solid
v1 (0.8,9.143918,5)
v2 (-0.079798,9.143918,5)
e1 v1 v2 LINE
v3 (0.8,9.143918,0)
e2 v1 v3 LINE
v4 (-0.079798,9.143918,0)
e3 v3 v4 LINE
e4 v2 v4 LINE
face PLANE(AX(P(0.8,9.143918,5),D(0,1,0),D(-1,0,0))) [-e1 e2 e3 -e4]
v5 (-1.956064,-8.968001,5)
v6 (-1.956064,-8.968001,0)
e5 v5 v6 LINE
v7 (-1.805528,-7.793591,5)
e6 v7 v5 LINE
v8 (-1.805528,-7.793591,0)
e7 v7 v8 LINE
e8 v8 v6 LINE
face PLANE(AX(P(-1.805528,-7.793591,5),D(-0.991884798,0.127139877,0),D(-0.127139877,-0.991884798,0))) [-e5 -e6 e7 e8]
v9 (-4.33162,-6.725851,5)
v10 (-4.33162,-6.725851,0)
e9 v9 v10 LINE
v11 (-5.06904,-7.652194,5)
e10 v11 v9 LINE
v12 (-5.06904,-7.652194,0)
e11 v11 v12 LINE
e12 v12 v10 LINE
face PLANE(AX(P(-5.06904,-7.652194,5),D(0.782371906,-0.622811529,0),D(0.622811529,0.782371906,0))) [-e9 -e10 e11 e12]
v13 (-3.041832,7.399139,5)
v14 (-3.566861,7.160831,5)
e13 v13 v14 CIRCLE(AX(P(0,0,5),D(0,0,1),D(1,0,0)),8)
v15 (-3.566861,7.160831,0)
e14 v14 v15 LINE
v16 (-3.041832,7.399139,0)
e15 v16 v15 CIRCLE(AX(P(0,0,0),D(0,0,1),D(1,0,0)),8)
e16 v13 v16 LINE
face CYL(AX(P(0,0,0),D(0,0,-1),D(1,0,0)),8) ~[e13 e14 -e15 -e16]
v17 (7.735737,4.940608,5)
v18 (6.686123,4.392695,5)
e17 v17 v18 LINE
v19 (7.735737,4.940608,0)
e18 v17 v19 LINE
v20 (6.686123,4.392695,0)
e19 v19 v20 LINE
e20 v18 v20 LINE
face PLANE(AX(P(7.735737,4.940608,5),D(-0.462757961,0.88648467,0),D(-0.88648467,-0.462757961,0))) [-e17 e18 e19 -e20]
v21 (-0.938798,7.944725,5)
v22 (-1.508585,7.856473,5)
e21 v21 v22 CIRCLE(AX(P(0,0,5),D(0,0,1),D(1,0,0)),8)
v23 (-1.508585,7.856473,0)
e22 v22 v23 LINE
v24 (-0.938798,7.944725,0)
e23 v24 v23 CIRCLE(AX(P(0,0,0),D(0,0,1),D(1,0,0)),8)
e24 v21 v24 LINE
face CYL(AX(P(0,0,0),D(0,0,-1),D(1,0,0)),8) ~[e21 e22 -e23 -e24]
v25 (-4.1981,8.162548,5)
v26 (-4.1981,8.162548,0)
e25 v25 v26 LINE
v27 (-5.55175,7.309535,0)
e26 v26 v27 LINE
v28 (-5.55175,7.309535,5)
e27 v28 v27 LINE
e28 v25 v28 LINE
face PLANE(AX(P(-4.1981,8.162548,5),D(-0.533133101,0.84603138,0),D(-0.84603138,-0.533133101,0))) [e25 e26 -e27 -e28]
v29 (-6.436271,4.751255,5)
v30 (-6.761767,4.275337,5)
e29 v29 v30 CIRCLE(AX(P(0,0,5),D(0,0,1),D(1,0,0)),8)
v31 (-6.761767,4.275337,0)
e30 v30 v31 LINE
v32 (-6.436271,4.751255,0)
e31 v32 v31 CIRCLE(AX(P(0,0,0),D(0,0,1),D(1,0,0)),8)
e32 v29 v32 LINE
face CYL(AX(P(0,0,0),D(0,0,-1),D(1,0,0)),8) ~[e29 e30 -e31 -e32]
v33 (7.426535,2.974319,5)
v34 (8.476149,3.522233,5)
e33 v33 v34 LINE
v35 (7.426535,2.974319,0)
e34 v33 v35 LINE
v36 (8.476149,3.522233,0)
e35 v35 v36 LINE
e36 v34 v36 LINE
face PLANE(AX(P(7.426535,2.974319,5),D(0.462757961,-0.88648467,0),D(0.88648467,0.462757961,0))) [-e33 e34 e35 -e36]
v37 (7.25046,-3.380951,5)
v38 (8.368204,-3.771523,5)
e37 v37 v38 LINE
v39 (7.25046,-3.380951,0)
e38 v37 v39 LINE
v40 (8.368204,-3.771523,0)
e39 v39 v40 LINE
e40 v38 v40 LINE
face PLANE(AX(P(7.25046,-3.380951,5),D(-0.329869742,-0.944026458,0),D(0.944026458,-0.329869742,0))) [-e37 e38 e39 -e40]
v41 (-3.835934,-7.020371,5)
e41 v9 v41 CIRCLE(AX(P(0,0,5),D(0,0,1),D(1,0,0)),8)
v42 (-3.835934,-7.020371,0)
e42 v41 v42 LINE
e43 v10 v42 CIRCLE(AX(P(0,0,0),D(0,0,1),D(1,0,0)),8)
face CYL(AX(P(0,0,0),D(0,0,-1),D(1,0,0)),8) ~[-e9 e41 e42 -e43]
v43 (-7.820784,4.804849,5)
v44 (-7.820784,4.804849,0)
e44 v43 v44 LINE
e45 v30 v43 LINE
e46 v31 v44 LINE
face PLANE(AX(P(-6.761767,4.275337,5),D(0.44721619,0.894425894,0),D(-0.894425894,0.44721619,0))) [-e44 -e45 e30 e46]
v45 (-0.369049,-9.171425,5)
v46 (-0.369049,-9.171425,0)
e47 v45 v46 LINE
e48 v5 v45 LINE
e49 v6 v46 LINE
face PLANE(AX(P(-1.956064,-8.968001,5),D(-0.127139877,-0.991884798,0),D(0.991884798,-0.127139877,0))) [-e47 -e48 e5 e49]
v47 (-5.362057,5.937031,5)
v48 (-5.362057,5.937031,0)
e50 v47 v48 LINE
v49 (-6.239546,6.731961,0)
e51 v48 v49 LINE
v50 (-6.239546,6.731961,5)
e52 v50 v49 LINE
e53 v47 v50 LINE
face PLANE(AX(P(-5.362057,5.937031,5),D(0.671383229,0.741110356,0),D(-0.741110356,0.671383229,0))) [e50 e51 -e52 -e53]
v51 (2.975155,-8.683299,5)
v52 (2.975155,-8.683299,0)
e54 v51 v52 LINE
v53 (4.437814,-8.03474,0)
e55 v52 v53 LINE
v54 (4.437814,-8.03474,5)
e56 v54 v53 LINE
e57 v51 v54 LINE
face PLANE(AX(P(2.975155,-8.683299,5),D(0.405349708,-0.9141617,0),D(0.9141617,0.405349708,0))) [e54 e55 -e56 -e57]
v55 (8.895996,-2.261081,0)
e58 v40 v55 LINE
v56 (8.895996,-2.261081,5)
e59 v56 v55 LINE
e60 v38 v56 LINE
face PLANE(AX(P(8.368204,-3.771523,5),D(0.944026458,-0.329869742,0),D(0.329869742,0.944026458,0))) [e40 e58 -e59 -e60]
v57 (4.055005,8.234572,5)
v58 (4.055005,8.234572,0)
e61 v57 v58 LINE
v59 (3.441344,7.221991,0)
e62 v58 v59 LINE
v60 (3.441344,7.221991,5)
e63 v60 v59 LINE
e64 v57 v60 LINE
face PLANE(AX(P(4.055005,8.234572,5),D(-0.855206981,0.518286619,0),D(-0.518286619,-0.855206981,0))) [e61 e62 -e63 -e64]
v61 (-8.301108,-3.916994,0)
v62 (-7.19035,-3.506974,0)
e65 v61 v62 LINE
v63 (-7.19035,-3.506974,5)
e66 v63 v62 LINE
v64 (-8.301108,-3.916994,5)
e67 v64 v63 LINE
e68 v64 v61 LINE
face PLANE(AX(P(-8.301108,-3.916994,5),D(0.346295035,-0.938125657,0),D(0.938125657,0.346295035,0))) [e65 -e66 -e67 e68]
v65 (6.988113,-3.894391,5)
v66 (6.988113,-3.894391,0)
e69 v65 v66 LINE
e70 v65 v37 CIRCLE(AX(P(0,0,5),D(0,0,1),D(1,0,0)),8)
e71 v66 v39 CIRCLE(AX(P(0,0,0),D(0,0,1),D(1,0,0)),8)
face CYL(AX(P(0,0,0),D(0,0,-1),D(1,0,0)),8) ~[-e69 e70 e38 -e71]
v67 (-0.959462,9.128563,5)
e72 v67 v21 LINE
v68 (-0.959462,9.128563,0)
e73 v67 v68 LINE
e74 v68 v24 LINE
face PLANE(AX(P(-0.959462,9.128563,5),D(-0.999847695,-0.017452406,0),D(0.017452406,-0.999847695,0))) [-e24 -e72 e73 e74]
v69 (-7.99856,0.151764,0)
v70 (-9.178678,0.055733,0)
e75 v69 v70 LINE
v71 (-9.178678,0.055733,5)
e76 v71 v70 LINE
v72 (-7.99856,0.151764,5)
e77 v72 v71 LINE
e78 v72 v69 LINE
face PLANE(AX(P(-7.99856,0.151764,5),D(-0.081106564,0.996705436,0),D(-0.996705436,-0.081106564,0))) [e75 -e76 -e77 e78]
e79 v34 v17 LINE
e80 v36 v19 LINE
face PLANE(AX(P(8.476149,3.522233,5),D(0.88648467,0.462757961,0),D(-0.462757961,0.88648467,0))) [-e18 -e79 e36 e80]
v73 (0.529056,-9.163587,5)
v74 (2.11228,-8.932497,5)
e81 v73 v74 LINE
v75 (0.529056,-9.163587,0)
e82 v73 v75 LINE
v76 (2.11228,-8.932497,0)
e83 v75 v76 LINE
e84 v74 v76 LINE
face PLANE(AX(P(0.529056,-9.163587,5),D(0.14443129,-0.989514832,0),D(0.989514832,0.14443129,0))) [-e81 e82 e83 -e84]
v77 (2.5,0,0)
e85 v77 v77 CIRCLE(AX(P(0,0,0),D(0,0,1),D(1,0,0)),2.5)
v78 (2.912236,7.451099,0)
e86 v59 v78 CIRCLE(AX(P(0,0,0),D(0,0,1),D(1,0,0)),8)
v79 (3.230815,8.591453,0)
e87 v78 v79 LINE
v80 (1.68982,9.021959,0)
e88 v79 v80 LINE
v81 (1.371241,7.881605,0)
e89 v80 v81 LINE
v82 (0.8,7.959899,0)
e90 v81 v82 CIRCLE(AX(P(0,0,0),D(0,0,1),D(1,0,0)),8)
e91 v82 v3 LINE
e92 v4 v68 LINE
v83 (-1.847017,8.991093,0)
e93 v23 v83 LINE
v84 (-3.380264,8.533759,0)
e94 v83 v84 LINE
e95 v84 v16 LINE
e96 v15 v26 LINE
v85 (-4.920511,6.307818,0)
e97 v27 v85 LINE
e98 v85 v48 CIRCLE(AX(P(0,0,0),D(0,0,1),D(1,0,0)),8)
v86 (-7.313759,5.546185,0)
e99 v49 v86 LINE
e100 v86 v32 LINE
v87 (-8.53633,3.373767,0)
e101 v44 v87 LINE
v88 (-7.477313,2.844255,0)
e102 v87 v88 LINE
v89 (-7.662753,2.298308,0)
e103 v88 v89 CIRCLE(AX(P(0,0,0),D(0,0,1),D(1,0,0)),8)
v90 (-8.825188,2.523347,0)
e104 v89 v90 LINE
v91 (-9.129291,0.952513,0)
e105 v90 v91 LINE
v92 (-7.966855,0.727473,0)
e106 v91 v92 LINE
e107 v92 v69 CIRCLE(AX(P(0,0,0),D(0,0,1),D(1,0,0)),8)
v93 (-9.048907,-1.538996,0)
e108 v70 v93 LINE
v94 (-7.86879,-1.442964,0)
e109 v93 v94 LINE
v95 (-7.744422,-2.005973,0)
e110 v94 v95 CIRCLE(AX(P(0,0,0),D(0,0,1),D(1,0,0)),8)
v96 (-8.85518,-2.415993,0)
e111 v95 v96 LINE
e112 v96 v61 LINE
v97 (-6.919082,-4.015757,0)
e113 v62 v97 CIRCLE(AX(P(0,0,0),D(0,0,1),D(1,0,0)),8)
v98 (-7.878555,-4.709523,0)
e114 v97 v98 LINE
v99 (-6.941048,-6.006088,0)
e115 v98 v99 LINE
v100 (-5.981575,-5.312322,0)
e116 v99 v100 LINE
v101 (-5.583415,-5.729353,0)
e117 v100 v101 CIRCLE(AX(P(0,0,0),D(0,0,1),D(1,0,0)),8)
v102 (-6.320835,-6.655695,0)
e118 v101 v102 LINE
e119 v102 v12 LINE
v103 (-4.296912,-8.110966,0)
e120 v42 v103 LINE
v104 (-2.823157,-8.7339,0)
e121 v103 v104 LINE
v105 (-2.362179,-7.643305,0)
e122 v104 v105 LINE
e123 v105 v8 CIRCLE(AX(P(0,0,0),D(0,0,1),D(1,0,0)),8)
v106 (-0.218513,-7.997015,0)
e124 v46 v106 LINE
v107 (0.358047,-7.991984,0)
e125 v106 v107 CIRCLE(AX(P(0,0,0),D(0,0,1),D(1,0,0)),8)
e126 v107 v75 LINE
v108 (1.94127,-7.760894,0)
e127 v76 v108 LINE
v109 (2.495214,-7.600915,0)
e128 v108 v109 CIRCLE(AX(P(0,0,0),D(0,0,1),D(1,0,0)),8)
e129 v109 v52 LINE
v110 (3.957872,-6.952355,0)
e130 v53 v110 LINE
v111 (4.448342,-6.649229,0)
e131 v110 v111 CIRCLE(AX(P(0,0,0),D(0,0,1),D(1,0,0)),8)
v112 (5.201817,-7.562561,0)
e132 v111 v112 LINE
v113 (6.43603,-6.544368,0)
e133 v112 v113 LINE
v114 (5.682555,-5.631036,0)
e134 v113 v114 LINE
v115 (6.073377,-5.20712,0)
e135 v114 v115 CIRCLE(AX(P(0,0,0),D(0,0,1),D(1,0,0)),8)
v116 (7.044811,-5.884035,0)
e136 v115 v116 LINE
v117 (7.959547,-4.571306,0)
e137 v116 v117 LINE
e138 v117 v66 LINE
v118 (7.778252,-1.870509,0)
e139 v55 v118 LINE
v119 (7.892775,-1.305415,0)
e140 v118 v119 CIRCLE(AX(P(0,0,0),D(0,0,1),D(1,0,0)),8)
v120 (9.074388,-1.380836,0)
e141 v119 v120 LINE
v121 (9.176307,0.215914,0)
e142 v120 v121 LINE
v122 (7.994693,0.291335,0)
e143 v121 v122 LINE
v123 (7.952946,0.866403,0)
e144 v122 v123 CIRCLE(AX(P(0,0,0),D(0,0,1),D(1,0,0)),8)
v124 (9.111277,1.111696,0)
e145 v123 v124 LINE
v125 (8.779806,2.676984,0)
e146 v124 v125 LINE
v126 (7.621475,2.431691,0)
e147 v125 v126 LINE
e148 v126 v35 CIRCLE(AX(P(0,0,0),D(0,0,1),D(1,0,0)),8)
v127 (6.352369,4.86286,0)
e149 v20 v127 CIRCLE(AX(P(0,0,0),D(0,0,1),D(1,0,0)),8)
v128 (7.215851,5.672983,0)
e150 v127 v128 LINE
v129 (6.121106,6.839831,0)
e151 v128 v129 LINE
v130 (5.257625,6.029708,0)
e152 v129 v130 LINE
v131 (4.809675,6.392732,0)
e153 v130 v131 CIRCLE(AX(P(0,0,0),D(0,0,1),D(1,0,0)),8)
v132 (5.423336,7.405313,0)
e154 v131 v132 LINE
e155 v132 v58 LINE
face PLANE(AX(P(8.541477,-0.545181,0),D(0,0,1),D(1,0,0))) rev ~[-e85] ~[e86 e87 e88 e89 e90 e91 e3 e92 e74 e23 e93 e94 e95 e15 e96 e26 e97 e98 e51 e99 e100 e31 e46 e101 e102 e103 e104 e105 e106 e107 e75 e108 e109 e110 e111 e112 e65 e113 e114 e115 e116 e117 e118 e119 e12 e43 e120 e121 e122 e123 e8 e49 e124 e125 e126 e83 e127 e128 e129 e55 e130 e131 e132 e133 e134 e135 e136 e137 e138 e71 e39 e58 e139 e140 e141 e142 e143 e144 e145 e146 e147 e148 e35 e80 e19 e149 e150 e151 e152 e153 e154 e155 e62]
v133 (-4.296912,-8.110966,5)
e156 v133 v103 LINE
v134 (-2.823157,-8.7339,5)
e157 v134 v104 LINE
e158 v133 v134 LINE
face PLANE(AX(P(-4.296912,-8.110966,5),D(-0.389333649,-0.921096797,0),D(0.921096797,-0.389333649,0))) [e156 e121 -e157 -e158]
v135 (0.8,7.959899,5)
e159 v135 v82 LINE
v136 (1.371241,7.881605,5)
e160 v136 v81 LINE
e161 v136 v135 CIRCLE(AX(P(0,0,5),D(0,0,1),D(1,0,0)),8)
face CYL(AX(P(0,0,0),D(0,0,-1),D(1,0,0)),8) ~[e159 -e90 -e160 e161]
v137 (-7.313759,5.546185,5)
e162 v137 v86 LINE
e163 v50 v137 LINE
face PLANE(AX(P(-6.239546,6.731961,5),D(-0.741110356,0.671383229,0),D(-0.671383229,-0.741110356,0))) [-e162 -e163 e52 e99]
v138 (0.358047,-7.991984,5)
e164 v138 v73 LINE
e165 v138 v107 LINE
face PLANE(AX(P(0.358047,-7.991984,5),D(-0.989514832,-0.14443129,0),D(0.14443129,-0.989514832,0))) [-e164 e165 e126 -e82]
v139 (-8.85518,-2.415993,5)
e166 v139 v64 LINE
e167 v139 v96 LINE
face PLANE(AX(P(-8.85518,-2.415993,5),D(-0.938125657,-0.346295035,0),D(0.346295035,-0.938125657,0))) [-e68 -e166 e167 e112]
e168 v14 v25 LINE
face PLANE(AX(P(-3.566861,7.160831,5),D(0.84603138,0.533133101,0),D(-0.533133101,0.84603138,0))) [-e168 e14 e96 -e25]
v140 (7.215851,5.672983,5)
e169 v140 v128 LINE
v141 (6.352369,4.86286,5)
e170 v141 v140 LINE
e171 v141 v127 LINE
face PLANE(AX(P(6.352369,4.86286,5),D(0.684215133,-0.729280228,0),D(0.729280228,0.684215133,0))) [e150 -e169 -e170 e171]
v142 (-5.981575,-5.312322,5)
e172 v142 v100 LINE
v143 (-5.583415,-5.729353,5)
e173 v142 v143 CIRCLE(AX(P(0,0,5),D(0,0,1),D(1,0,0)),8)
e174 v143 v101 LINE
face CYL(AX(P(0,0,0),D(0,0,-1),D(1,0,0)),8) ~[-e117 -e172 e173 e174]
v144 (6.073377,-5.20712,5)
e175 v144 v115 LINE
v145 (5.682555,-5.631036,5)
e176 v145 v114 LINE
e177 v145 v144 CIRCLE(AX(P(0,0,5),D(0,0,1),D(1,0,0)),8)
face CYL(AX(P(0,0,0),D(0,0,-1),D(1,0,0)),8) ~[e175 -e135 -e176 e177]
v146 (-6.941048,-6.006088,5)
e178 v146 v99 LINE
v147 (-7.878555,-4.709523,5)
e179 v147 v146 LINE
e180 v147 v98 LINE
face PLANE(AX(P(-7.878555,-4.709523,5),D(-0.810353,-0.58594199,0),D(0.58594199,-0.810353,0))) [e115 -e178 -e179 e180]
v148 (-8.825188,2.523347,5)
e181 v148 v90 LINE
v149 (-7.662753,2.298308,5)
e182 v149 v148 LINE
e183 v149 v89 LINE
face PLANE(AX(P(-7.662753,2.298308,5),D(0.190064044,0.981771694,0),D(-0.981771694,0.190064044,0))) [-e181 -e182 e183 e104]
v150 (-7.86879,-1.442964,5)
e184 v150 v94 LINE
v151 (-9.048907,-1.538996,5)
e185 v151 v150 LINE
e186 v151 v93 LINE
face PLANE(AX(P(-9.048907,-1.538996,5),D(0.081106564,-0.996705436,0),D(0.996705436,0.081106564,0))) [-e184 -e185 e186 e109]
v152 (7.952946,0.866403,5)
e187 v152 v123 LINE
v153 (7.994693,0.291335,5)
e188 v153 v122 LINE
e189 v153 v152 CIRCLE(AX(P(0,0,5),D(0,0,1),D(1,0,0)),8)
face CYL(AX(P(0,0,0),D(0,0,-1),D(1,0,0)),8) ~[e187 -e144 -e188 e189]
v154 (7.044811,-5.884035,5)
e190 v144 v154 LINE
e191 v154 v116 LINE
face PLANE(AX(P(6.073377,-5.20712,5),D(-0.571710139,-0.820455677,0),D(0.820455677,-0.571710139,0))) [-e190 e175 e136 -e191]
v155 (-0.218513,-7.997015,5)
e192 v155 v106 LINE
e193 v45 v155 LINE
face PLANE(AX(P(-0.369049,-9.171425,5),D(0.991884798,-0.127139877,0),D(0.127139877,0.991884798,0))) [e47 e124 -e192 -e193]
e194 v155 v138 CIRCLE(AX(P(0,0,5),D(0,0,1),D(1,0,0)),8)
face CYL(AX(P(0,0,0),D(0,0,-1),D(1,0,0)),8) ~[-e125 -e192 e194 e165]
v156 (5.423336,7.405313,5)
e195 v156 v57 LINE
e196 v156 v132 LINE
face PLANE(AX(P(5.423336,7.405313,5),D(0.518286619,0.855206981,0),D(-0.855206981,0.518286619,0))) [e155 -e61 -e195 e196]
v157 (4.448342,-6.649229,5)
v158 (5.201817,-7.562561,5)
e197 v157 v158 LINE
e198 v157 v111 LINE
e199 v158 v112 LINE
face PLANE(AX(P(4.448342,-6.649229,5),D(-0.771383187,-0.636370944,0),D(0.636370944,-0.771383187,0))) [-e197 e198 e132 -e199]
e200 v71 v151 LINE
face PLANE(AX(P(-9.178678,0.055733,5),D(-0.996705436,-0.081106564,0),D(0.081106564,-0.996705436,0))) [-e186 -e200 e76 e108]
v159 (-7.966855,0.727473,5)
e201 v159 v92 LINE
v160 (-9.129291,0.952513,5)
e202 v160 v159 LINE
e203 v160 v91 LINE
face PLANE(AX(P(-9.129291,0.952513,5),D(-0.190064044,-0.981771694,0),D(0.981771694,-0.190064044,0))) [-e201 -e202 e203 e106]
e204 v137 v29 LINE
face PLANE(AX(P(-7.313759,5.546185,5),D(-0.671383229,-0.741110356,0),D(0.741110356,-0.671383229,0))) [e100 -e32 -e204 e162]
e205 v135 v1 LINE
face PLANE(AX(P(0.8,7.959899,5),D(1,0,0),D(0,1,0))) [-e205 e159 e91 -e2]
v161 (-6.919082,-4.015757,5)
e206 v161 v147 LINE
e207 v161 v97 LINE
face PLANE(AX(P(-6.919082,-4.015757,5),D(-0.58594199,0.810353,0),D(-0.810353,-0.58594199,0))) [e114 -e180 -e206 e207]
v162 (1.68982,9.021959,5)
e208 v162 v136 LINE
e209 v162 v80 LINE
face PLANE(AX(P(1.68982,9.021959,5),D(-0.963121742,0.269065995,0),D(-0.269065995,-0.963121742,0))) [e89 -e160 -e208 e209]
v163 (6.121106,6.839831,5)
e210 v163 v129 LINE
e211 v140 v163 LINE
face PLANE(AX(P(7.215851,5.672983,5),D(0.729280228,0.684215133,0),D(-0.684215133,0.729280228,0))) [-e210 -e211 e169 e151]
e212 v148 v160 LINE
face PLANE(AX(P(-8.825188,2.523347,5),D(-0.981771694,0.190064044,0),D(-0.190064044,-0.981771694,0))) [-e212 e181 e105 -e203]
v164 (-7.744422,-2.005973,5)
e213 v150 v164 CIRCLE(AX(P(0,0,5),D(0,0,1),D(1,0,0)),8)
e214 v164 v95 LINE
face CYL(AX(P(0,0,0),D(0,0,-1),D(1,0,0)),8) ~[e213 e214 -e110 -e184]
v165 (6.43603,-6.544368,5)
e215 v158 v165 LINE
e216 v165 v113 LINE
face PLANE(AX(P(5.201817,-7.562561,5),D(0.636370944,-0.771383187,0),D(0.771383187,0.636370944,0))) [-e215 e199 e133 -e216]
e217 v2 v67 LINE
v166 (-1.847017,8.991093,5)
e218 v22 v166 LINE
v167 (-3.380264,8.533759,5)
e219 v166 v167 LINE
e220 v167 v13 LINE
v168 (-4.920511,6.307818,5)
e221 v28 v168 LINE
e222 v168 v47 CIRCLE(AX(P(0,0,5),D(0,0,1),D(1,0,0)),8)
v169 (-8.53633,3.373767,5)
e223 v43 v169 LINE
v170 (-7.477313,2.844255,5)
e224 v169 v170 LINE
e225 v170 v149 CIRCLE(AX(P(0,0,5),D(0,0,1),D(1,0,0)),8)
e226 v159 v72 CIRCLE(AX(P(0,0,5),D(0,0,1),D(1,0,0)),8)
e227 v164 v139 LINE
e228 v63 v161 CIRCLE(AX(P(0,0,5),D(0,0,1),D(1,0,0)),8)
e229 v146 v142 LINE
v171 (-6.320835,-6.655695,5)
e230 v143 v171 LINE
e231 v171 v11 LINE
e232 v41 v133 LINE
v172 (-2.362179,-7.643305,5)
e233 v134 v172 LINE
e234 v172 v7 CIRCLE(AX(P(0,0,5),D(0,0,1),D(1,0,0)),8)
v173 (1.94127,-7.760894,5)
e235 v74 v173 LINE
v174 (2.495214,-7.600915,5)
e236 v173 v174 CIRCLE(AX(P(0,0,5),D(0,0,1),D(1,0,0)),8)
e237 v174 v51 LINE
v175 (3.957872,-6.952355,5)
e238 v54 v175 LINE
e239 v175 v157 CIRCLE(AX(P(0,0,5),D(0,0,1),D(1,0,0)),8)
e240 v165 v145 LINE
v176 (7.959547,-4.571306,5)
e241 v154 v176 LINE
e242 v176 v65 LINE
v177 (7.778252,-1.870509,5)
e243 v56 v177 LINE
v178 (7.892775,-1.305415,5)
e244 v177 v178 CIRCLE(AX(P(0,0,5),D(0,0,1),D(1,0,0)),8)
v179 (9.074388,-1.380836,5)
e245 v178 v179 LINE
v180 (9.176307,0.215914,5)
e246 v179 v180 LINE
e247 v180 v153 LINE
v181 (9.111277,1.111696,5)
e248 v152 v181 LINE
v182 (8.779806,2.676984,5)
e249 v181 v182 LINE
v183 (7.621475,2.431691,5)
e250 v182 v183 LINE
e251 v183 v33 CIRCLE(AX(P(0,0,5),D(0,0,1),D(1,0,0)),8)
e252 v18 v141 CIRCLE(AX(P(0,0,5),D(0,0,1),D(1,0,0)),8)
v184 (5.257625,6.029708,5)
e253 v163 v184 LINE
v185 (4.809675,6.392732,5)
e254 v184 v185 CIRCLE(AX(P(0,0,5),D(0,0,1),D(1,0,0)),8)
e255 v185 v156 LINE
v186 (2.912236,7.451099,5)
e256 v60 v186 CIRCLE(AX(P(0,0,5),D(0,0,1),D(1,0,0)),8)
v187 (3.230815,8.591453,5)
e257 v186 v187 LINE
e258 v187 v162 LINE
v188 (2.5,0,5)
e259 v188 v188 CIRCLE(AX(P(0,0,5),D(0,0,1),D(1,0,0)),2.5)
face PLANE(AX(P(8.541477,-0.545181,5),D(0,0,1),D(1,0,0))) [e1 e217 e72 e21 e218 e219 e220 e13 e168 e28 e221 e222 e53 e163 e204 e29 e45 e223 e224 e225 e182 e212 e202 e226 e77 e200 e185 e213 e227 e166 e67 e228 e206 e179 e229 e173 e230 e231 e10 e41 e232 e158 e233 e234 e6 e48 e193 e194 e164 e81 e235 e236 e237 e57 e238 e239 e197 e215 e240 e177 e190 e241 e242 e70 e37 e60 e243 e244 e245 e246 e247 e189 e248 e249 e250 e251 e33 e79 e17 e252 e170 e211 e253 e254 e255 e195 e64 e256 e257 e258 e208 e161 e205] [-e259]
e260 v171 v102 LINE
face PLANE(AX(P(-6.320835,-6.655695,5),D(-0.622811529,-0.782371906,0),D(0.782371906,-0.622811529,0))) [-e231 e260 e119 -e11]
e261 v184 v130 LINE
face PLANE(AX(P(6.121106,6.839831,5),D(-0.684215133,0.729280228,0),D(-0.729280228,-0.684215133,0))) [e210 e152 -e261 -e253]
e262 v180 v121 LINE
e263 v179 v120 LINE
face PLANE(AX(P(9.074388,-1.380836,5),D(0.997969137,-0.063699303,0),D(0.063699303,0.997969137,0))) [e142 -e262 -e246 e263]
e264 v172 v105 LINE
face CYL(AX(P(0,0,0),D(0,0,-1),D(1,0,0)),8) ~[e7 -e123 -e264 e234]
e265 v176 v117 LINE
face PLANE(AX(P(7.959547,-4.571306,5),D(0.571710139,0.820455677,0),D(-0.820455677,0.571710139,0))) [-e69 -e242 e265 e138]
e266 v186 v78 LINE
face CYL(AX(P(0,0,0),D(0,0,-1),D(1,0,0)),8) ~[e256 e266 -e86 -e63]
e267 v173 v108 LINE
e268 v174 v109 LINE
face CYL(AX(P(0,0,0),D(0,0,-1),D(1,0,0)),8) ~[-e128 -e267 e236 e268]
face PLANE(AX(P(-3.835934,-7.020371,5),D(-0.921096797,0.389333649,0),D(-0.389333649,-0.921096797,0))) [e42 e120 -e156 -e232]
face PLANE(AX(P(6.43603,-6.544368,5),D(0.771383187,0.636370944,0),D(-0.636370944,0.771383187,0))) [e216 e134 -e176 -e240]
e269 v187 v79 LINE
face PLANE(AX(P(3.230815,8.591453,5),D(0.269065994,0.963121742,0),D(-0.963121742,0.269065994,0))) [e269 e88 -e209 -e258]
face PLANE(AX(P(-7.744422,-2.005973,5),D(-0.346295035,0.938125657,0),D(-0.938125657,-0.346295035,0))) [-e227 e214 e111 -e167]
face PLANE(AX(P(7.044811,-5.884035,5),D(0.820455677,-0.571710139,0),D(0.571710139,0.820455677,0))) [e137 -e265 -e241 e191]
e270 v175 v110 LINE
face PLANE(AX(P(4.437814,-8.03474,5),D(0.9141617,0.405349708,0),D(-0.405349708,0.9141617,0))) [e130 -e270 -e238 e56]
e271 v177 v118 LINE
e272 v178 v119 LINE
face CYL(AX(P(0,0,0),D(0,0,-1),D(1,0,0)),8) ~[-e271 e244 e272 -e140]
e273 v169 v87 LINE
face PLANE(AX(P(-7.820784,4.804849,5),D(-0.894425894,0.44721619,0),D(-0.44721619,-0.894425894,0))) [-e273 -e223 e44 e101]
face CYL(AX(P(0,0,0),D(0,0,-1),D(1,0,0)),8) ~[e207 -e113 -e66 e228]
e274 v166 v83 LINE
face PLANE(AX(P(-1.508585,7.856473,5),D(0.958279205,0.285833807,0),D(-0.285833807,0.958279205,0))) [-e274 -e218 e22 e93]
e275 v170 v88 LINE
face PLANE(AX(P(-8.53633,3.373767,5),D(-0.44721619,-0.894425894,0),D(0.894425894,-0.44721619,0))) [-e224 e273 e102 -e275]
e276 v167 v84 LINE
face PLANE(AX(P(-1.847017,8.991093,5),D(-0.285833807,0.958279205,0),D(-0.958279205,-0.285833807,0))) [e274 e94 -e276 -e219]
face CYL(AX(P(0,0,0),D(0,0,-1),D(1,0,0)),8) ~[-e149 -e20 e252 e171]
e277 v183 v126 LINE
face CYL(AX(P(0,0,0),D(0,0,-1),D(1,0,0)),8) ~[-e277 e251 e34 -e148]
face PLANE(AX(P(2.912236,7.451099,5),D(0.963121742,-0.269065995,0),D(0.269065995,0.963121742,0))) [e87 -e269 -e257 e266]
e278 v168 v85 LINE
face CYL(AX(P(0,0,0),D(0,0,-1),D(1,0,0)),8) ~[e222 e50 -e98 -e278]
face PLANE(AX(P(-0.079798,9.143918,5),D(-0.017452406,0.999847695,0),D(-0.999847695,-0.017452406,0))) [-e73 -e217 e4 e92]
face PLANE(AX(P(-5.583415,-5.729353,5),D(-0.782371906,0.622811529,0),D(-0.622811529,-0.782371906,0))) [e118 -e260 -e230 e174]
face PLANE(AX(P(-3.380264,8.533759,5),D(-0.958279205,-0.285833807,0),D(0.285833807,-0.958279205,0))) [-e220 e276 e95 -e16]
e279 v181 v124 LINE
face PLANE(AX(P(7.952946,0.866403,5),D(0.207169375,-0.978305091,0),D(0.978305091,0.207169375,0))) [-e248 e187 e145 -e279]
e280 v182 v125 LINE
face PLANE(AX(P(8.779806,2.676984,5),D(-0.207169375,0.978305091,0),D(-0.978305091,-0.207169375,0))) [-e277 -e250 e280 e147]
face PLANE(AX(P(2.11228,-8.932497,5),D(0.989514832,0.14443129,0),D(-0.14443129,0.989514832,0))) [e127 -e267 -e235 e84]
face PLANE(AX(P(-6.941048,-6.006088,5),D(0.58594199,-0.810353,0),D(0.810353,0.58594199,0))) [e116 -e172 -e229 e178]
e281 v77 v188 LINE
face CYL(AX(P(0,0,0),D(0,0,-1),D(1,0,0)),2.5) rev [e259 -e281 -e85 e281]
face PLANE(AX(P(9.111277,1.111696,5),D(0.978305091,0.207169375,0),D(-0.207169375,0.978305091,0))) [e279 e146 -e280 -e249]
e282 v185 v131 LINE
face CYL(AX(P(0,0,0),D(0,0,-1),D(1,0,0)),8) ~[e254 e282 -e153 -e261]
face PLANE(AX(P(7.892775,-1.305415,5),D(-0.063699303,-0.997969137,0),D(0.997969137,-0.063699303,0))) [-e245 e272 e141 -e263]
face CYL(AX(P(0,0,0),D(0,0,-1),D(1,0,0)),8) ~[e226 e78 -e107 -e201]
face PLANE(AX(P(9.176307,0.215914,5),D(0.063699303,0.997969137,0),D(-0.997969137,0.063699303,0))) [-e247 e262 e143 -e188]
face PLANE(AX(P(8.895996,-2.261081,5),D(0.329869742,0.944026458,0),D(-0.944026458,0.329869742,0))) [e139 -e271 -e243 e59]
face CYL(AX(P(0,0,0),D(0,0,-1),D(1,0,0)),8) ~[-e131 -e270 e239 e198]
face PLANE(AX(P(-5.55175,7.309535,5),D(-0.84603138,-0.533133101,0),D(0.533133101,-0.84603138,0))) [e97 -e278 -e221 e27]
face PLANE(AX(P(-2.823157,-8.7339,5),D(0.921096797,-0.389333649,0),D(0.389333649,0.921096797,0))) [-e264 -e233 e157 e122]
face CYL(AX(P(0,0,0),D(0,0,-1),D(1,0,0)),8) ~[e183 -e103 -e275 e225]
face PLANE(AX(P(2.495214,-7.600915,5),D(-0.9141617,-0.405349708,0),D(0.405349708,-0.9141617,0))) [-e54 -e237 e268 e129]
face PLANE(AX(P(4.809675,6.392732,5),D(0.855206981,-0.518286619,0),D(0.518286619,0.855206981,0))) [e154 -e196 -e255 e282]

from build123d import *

# Parameters (mm, degrees)
F0_R     = 8
F0_R_2   = 2.5
F1_DEPTH = 5
F3_DEPTH = 5


with BuildPart() as f1:
    # F0 (on Top) → F1 (new body)
    with BuildSketch(Plane.XY):
        Circle(F0_R)
        Circle(F0_R_2, mode=Mode.SUBTRACT)
    extrude(amount=F1_DEPTH)

    # F2 (on face) → F3 (join)
    with BuildSketch(Plane.XY.offset(5)):
        with BuildLine():
            ThreePointArc((-7.4773131729, 2.8442552126), (-7.1554071491, 3.5777295217), (-6.7617672686, 4.2753366424))
            Line((-6.7617672686, 4.2753366424), (-7.8207838354, 4.8048487661))
            Line((-7.8207838354, 4.8048487661), (-8.5363297397, 3.3737673363))
            Line((-8.5363297397, 3.3737673363), (-7.4773131729, 2.8442552126))
        make_face()
        with BuildLine():
            ThreePointArc((-7.9668552487, 0.7274733306), (-7.8541735526, 1.5205123497), (-7.6627527787, 2.2983080412))
            Line((-7.6627527787, 2.2983080412), (-8.8251883659, 2.5233473345))
            Line((-8.8251883659, 2.5233473345), (-9.1292908359, 0.952512624))
            Line((-9.1292908359, 0.952512624), (-7.9668552487, 0.7274733306))
        make_face()
        with BuildLine():
            ThreePointArc((-7.8687898433, -1.4429644491), (-7.9736434843, -0.6488525148), (-7.9985603463, 0.1517642477))
            Line((-7.9985603463, 0.1517642477), (-9.1786777557, 0.0557325966))
            Line((-9.1786777557, 0.0557325966), (-9.0489072527, -1.5389961002))
            Line((-9.0489072527, -1.5389961002), (-7.8687898433, -1.4429644491))
        make_face()
        with BuildLine():
            ThreePointArc((-7.1903499195, -3.5069741995), (-7.5050052582, -2.7703602788), (-7.7444219752, -2.0059731478))
            Line((-7.7444219752, -2.0059731478), (-8.855179859, -2.4159927833))
            Line((-8.855179859, -2.4159927833), (-8.3011078033, -3.916993835))
            Line((-8.3011078033, -3.916993835), (-7.1903499195, -3.5069741995))
        make_face()
        with BuildLine():
            ThreePointArc((-5.9815748417, -5.3123217535), (-6.482823997, -4.6875359225), (-6.9190820262, -4.0157569542))
            Line((-6.9190820262, -4.0157569542), (-7.8785547535, -4.7095229546))
            Line((-7.8785547535, -4.7095229546), (-6.941047569, -6.006087754))
            Line((-6.941047569, -6.006087754), (-5.9815748417, -5.3123217535))
        make_face()
        with BuildLine():
            ThreePointArc((-4.3316196476, -6.7258509669), (-4.9824922283, -6.2589752512), (-5.5834146978, -5.7293525212))
            Line((-5.5834146978, -5.7293525212), (-6.3208349038, -6.655695124))
            Line((-6.3208349038, -6.655695124), (-5.0690398536, -7.6521935697))
            Line((-5.0690398536, -7.6521935697), (-4.3316196476, -6.7258509669))
        make_face()
        with BuildLine():
            ThreePointArc((-2.3621792826, -7.6433048505), (-3.1146691954, -7.3687743759), (-3.8359341578, -7.0203710114))
            Line((-3.8359341578, -7.0203710114), (-4.2969122977, -8.1109664141))
            Line((-4.2969122977, -8.1109664141), (-2.8231574225, -8.7339002532))
            Line((-2.8231574225, -8.7339002532), (-2.3621792826, -7.6433048505))
        make_face()
        with BuildLine():
            ThreePointArc((-0.2185128052, -7.9970152028), (-1.0171190163, -7.9350783806), (-1.8055284813, -7.7935913996))
            Line((-1.8055284813, -7.7935913996), (-1.956064414, -8.9680010857))
            Line((-1.956064414, -8.9680010857), (-0.3690487378, -9.171424889))
            Line((-0.3690487378, -9.171424889), (-0.2185128052, -7.9970152028))
        make_face()
        with BuildLine():
            Line((2.1122796957, -8.9324971845), (1.9412704153, -7.7608935809))
            ThreePointArc((1.9412704153, -7.7608935809), (1.1554503171, -7.9161186553), (0.3580466842, -7.9919836444))
            Line((0.3580466842, -7.9919836444), (0.5290559647, -9.163587248))
            Line((0.5290559647, -9.163587248), (2.1122796957, -8.9324971845))
        make_face()
        with BuildLine():
            Line((4.4378137396, -8.0347396148), (3.9578722946, -6.9523554929))
            ThreePointArc((3.9578722946, -6.9523554929), (3.2427976615, -7.3132936032), (2.495213574, -7.6009150252))
            Line((2.495213574, -7.6009150252), (2.975155019, -8.6832991471))
            Line((2.975155019, -8.6832991471), (4.4378137396, -8.0347396148))
        make_face()
        with BuildLine():
            Line((6.4360301064, -6.5443676496), (5.6825553055, -5.6310358905))
            ThreePointArc((5.6825553055, -5.6310358905), (5.0909675506, -6.1710654995), (4.4483422056, -6.6492294006))
            Line((4.4483422056, -6.6492294006), (5.2018170066, -7.5625611597))
            Line((5.2018170066, -7.5625611597), (6.4360301064, -6.5443676496))
        make_face()
        with BuildLine():
            Line((7.9595473202, -4.5713059318), (6.988112839, -3.8943907032))
            ThreePointArc((6.988112839, -3.8943907032), (6.5636454136, -4.5736811088), (6.0733766172, -5.2071197859))
            Line((6.0733766172, -5.2071197859), (7.0448110985, -5.8840350145))
            Line((7.0448110985, -5.8840350145), (7.9595473202, -4.5713059318))
        make_face()
        with BuildLine():
            Line((8.8959960602, -2.261080618), (7.7782515209, -1.8705088285))
            ThreePointArc((7.7782515209, -1.8705088285), (7.5522116631, -2.6389579374), (7.2504599334, -3.3809511611))
            Line((7.2504599334, -3.3809511611), (8.3682044728, -3.7715229506))
            Line((8.3682044728, -3.7715229506), (8.8959960602, -2.261080618))
        make_face()
        with BuildLine():
            Line((9.1763071307, 0.215914123), (7.9946934755, 0.2913352594))
            ThreePointArc((7.9946934755, 0.2913352594), (7.9986732589, 0.1456917916), (8, 0))
            ThreePointArc((8, 0), (7.9731485852, -0.6549058236), (7.8927745906, -1.3054153602))
            Line((7.8927745906, -1.3054153602), (9.0743882458, -1.3808364965))
            Line((9.0743882458, -1.3808364965), (9.1763071307, 0.215914123))
        make_face()
        with BuildLine():
            Line((8.7798057637, 2.6769837907), (7.6214746983, 2.4316914736))
            ThreePointArc((7.6214746983, 2.4316914736), (7.8264407244, 1.6573549974), (7.9529456978, 0.8664033288))
            Line((7.9529456978, 0.8664033288), (9.1112767632, 1.1116956459))
            Line((9.1112767632, 1.1116956459), (8.7798057637, 2.6769837907))
        make_face()
        with BuildLine():
            Line((7.7357365186, 4.9406084625), (6.6861225059, 4.3926945985))
            ThreePointArc((6.6861225059, 4.3926945985), (7.0918773562, 3.70206369), (7.4265352439, 2.9743191273))
            Line((7.4265352439, 2.9743191273), (8.4761492566, 3.5222329912))
            Line((8.4761492566, 3.5222329912), (7.7357365186, 4.9406084625))
        make_face()
        with BuildLine():
            Line((6.1211063045, 6.8398310705), (5.2576252165, 6.029707877))
            ThreePointArc((5.2576252165, 6.029707877), (5.8342418272, 5.4737210654), (6.3523694296, 4.8628595116))
            Line((6.3523694296, 4.8628595116), (7.2158505176, 5.6729827051))
            Line((7.2158505176, 5.6729827051), (6.1211063045, 6.8398310705))
        make_face()
        with BuildLine():
            Line((4.0550046196, 8.2345715735), (3.4413438124, 7.2219909142))
            ThreePointArc((3.4413438124, 7.2219909142), (4.1462929515, 6.8416558493), (4.8096749823, 6.3927323239))
            Line((4.8096749823, 6.3927323239), (5.4233357894, 7.4053129832))
            Line((5.4233357894, 7.4053129832), (4.0550046196, 8.2345715735))
        make_face()
        with BuildLine():
            Line((1.6898199243, 9.0219587722), (1.3712408807, 7.8816050679))
            ThreePointArc((1.3712408807, 7.8816050679), (2.1525279564, 7.7049739388), (2.9122356685, 7.4510994767))
            Line((2.9122356685, 7.4510994767), (3.2308147121, 8.591453181))
            Line((3.2308147121, 8.591453181), (1.6898199243, 9.0219587722))
        make_face()
        with BuildLine():
            Line((0.8, 9.1439177306), (-0.0797977611, 9.1439177306))
            Line((-0.0797977611, 9.1439177306), (-0.9594615248, 9.1285631425))
            Line((-0.9594615248, 9.1285631425), (-0.9387975573, 7.9447252405))
            ThreePointArc((-0.9387975573, 7.9447252405), (-0.069812284, 7.9996953845), (0.8, 7.9598994969))
            Line((0.8, 7.9598994969), (0.8, 9.1439177306))
        make_face()
        with BuildLine():
            ThreePointArc((-4.9205110082, 6.3078182772), (-4.2650648096, 6.7682510422), (-3.5668607998, 7.1608312391))
            Line((-3.5668607998, 7.1608312391), (-4.1981001127, 8.1625478197))
            Line((-4.1981001127, 8.1625478197), (-5.5517503211, 7.3095348578))
            Line((-5.5517503211, 7.3095348578), (-4.9205110082, 6.3078182772))
        make_face()
        with BuildLine():
            ThreePointArc((-6.4362705336, 4.7512547414), (-5.9288828486, 5.3710658316), (-5.3620573673, 5.9370313111))
            Line((-5.3620573673, 5.9370313111), (-6.2395455422, 6.7319612961))
            Line((-6.2395455422, 6.7319612961), (-7.3137587085, 5.5461847263))
            Line((-7.3137587085, 5.5461847263), (-6.4362705336, 4.7512547414))
        make_face()
        with BuildLine():
            ThreePointArc((-3.0418317373, 7.3991391176), (-2.2866704527, 7.6662336412), (-1.5085850091, 7.8564732081))
            Line((-1.5085850091, 7.8564732081), (-1.8470174479, 8.9910932601))
            Line((-1.8470174479, 8.9910932601), (-3.3802641762, 8.5337591696))
            Line((-3.3802641762, 8.5337591696), (-3.0418317373, 7.3991391176))
        make_face()
    extrude(amount=-F3_DEPTH)


solid = f1.part
